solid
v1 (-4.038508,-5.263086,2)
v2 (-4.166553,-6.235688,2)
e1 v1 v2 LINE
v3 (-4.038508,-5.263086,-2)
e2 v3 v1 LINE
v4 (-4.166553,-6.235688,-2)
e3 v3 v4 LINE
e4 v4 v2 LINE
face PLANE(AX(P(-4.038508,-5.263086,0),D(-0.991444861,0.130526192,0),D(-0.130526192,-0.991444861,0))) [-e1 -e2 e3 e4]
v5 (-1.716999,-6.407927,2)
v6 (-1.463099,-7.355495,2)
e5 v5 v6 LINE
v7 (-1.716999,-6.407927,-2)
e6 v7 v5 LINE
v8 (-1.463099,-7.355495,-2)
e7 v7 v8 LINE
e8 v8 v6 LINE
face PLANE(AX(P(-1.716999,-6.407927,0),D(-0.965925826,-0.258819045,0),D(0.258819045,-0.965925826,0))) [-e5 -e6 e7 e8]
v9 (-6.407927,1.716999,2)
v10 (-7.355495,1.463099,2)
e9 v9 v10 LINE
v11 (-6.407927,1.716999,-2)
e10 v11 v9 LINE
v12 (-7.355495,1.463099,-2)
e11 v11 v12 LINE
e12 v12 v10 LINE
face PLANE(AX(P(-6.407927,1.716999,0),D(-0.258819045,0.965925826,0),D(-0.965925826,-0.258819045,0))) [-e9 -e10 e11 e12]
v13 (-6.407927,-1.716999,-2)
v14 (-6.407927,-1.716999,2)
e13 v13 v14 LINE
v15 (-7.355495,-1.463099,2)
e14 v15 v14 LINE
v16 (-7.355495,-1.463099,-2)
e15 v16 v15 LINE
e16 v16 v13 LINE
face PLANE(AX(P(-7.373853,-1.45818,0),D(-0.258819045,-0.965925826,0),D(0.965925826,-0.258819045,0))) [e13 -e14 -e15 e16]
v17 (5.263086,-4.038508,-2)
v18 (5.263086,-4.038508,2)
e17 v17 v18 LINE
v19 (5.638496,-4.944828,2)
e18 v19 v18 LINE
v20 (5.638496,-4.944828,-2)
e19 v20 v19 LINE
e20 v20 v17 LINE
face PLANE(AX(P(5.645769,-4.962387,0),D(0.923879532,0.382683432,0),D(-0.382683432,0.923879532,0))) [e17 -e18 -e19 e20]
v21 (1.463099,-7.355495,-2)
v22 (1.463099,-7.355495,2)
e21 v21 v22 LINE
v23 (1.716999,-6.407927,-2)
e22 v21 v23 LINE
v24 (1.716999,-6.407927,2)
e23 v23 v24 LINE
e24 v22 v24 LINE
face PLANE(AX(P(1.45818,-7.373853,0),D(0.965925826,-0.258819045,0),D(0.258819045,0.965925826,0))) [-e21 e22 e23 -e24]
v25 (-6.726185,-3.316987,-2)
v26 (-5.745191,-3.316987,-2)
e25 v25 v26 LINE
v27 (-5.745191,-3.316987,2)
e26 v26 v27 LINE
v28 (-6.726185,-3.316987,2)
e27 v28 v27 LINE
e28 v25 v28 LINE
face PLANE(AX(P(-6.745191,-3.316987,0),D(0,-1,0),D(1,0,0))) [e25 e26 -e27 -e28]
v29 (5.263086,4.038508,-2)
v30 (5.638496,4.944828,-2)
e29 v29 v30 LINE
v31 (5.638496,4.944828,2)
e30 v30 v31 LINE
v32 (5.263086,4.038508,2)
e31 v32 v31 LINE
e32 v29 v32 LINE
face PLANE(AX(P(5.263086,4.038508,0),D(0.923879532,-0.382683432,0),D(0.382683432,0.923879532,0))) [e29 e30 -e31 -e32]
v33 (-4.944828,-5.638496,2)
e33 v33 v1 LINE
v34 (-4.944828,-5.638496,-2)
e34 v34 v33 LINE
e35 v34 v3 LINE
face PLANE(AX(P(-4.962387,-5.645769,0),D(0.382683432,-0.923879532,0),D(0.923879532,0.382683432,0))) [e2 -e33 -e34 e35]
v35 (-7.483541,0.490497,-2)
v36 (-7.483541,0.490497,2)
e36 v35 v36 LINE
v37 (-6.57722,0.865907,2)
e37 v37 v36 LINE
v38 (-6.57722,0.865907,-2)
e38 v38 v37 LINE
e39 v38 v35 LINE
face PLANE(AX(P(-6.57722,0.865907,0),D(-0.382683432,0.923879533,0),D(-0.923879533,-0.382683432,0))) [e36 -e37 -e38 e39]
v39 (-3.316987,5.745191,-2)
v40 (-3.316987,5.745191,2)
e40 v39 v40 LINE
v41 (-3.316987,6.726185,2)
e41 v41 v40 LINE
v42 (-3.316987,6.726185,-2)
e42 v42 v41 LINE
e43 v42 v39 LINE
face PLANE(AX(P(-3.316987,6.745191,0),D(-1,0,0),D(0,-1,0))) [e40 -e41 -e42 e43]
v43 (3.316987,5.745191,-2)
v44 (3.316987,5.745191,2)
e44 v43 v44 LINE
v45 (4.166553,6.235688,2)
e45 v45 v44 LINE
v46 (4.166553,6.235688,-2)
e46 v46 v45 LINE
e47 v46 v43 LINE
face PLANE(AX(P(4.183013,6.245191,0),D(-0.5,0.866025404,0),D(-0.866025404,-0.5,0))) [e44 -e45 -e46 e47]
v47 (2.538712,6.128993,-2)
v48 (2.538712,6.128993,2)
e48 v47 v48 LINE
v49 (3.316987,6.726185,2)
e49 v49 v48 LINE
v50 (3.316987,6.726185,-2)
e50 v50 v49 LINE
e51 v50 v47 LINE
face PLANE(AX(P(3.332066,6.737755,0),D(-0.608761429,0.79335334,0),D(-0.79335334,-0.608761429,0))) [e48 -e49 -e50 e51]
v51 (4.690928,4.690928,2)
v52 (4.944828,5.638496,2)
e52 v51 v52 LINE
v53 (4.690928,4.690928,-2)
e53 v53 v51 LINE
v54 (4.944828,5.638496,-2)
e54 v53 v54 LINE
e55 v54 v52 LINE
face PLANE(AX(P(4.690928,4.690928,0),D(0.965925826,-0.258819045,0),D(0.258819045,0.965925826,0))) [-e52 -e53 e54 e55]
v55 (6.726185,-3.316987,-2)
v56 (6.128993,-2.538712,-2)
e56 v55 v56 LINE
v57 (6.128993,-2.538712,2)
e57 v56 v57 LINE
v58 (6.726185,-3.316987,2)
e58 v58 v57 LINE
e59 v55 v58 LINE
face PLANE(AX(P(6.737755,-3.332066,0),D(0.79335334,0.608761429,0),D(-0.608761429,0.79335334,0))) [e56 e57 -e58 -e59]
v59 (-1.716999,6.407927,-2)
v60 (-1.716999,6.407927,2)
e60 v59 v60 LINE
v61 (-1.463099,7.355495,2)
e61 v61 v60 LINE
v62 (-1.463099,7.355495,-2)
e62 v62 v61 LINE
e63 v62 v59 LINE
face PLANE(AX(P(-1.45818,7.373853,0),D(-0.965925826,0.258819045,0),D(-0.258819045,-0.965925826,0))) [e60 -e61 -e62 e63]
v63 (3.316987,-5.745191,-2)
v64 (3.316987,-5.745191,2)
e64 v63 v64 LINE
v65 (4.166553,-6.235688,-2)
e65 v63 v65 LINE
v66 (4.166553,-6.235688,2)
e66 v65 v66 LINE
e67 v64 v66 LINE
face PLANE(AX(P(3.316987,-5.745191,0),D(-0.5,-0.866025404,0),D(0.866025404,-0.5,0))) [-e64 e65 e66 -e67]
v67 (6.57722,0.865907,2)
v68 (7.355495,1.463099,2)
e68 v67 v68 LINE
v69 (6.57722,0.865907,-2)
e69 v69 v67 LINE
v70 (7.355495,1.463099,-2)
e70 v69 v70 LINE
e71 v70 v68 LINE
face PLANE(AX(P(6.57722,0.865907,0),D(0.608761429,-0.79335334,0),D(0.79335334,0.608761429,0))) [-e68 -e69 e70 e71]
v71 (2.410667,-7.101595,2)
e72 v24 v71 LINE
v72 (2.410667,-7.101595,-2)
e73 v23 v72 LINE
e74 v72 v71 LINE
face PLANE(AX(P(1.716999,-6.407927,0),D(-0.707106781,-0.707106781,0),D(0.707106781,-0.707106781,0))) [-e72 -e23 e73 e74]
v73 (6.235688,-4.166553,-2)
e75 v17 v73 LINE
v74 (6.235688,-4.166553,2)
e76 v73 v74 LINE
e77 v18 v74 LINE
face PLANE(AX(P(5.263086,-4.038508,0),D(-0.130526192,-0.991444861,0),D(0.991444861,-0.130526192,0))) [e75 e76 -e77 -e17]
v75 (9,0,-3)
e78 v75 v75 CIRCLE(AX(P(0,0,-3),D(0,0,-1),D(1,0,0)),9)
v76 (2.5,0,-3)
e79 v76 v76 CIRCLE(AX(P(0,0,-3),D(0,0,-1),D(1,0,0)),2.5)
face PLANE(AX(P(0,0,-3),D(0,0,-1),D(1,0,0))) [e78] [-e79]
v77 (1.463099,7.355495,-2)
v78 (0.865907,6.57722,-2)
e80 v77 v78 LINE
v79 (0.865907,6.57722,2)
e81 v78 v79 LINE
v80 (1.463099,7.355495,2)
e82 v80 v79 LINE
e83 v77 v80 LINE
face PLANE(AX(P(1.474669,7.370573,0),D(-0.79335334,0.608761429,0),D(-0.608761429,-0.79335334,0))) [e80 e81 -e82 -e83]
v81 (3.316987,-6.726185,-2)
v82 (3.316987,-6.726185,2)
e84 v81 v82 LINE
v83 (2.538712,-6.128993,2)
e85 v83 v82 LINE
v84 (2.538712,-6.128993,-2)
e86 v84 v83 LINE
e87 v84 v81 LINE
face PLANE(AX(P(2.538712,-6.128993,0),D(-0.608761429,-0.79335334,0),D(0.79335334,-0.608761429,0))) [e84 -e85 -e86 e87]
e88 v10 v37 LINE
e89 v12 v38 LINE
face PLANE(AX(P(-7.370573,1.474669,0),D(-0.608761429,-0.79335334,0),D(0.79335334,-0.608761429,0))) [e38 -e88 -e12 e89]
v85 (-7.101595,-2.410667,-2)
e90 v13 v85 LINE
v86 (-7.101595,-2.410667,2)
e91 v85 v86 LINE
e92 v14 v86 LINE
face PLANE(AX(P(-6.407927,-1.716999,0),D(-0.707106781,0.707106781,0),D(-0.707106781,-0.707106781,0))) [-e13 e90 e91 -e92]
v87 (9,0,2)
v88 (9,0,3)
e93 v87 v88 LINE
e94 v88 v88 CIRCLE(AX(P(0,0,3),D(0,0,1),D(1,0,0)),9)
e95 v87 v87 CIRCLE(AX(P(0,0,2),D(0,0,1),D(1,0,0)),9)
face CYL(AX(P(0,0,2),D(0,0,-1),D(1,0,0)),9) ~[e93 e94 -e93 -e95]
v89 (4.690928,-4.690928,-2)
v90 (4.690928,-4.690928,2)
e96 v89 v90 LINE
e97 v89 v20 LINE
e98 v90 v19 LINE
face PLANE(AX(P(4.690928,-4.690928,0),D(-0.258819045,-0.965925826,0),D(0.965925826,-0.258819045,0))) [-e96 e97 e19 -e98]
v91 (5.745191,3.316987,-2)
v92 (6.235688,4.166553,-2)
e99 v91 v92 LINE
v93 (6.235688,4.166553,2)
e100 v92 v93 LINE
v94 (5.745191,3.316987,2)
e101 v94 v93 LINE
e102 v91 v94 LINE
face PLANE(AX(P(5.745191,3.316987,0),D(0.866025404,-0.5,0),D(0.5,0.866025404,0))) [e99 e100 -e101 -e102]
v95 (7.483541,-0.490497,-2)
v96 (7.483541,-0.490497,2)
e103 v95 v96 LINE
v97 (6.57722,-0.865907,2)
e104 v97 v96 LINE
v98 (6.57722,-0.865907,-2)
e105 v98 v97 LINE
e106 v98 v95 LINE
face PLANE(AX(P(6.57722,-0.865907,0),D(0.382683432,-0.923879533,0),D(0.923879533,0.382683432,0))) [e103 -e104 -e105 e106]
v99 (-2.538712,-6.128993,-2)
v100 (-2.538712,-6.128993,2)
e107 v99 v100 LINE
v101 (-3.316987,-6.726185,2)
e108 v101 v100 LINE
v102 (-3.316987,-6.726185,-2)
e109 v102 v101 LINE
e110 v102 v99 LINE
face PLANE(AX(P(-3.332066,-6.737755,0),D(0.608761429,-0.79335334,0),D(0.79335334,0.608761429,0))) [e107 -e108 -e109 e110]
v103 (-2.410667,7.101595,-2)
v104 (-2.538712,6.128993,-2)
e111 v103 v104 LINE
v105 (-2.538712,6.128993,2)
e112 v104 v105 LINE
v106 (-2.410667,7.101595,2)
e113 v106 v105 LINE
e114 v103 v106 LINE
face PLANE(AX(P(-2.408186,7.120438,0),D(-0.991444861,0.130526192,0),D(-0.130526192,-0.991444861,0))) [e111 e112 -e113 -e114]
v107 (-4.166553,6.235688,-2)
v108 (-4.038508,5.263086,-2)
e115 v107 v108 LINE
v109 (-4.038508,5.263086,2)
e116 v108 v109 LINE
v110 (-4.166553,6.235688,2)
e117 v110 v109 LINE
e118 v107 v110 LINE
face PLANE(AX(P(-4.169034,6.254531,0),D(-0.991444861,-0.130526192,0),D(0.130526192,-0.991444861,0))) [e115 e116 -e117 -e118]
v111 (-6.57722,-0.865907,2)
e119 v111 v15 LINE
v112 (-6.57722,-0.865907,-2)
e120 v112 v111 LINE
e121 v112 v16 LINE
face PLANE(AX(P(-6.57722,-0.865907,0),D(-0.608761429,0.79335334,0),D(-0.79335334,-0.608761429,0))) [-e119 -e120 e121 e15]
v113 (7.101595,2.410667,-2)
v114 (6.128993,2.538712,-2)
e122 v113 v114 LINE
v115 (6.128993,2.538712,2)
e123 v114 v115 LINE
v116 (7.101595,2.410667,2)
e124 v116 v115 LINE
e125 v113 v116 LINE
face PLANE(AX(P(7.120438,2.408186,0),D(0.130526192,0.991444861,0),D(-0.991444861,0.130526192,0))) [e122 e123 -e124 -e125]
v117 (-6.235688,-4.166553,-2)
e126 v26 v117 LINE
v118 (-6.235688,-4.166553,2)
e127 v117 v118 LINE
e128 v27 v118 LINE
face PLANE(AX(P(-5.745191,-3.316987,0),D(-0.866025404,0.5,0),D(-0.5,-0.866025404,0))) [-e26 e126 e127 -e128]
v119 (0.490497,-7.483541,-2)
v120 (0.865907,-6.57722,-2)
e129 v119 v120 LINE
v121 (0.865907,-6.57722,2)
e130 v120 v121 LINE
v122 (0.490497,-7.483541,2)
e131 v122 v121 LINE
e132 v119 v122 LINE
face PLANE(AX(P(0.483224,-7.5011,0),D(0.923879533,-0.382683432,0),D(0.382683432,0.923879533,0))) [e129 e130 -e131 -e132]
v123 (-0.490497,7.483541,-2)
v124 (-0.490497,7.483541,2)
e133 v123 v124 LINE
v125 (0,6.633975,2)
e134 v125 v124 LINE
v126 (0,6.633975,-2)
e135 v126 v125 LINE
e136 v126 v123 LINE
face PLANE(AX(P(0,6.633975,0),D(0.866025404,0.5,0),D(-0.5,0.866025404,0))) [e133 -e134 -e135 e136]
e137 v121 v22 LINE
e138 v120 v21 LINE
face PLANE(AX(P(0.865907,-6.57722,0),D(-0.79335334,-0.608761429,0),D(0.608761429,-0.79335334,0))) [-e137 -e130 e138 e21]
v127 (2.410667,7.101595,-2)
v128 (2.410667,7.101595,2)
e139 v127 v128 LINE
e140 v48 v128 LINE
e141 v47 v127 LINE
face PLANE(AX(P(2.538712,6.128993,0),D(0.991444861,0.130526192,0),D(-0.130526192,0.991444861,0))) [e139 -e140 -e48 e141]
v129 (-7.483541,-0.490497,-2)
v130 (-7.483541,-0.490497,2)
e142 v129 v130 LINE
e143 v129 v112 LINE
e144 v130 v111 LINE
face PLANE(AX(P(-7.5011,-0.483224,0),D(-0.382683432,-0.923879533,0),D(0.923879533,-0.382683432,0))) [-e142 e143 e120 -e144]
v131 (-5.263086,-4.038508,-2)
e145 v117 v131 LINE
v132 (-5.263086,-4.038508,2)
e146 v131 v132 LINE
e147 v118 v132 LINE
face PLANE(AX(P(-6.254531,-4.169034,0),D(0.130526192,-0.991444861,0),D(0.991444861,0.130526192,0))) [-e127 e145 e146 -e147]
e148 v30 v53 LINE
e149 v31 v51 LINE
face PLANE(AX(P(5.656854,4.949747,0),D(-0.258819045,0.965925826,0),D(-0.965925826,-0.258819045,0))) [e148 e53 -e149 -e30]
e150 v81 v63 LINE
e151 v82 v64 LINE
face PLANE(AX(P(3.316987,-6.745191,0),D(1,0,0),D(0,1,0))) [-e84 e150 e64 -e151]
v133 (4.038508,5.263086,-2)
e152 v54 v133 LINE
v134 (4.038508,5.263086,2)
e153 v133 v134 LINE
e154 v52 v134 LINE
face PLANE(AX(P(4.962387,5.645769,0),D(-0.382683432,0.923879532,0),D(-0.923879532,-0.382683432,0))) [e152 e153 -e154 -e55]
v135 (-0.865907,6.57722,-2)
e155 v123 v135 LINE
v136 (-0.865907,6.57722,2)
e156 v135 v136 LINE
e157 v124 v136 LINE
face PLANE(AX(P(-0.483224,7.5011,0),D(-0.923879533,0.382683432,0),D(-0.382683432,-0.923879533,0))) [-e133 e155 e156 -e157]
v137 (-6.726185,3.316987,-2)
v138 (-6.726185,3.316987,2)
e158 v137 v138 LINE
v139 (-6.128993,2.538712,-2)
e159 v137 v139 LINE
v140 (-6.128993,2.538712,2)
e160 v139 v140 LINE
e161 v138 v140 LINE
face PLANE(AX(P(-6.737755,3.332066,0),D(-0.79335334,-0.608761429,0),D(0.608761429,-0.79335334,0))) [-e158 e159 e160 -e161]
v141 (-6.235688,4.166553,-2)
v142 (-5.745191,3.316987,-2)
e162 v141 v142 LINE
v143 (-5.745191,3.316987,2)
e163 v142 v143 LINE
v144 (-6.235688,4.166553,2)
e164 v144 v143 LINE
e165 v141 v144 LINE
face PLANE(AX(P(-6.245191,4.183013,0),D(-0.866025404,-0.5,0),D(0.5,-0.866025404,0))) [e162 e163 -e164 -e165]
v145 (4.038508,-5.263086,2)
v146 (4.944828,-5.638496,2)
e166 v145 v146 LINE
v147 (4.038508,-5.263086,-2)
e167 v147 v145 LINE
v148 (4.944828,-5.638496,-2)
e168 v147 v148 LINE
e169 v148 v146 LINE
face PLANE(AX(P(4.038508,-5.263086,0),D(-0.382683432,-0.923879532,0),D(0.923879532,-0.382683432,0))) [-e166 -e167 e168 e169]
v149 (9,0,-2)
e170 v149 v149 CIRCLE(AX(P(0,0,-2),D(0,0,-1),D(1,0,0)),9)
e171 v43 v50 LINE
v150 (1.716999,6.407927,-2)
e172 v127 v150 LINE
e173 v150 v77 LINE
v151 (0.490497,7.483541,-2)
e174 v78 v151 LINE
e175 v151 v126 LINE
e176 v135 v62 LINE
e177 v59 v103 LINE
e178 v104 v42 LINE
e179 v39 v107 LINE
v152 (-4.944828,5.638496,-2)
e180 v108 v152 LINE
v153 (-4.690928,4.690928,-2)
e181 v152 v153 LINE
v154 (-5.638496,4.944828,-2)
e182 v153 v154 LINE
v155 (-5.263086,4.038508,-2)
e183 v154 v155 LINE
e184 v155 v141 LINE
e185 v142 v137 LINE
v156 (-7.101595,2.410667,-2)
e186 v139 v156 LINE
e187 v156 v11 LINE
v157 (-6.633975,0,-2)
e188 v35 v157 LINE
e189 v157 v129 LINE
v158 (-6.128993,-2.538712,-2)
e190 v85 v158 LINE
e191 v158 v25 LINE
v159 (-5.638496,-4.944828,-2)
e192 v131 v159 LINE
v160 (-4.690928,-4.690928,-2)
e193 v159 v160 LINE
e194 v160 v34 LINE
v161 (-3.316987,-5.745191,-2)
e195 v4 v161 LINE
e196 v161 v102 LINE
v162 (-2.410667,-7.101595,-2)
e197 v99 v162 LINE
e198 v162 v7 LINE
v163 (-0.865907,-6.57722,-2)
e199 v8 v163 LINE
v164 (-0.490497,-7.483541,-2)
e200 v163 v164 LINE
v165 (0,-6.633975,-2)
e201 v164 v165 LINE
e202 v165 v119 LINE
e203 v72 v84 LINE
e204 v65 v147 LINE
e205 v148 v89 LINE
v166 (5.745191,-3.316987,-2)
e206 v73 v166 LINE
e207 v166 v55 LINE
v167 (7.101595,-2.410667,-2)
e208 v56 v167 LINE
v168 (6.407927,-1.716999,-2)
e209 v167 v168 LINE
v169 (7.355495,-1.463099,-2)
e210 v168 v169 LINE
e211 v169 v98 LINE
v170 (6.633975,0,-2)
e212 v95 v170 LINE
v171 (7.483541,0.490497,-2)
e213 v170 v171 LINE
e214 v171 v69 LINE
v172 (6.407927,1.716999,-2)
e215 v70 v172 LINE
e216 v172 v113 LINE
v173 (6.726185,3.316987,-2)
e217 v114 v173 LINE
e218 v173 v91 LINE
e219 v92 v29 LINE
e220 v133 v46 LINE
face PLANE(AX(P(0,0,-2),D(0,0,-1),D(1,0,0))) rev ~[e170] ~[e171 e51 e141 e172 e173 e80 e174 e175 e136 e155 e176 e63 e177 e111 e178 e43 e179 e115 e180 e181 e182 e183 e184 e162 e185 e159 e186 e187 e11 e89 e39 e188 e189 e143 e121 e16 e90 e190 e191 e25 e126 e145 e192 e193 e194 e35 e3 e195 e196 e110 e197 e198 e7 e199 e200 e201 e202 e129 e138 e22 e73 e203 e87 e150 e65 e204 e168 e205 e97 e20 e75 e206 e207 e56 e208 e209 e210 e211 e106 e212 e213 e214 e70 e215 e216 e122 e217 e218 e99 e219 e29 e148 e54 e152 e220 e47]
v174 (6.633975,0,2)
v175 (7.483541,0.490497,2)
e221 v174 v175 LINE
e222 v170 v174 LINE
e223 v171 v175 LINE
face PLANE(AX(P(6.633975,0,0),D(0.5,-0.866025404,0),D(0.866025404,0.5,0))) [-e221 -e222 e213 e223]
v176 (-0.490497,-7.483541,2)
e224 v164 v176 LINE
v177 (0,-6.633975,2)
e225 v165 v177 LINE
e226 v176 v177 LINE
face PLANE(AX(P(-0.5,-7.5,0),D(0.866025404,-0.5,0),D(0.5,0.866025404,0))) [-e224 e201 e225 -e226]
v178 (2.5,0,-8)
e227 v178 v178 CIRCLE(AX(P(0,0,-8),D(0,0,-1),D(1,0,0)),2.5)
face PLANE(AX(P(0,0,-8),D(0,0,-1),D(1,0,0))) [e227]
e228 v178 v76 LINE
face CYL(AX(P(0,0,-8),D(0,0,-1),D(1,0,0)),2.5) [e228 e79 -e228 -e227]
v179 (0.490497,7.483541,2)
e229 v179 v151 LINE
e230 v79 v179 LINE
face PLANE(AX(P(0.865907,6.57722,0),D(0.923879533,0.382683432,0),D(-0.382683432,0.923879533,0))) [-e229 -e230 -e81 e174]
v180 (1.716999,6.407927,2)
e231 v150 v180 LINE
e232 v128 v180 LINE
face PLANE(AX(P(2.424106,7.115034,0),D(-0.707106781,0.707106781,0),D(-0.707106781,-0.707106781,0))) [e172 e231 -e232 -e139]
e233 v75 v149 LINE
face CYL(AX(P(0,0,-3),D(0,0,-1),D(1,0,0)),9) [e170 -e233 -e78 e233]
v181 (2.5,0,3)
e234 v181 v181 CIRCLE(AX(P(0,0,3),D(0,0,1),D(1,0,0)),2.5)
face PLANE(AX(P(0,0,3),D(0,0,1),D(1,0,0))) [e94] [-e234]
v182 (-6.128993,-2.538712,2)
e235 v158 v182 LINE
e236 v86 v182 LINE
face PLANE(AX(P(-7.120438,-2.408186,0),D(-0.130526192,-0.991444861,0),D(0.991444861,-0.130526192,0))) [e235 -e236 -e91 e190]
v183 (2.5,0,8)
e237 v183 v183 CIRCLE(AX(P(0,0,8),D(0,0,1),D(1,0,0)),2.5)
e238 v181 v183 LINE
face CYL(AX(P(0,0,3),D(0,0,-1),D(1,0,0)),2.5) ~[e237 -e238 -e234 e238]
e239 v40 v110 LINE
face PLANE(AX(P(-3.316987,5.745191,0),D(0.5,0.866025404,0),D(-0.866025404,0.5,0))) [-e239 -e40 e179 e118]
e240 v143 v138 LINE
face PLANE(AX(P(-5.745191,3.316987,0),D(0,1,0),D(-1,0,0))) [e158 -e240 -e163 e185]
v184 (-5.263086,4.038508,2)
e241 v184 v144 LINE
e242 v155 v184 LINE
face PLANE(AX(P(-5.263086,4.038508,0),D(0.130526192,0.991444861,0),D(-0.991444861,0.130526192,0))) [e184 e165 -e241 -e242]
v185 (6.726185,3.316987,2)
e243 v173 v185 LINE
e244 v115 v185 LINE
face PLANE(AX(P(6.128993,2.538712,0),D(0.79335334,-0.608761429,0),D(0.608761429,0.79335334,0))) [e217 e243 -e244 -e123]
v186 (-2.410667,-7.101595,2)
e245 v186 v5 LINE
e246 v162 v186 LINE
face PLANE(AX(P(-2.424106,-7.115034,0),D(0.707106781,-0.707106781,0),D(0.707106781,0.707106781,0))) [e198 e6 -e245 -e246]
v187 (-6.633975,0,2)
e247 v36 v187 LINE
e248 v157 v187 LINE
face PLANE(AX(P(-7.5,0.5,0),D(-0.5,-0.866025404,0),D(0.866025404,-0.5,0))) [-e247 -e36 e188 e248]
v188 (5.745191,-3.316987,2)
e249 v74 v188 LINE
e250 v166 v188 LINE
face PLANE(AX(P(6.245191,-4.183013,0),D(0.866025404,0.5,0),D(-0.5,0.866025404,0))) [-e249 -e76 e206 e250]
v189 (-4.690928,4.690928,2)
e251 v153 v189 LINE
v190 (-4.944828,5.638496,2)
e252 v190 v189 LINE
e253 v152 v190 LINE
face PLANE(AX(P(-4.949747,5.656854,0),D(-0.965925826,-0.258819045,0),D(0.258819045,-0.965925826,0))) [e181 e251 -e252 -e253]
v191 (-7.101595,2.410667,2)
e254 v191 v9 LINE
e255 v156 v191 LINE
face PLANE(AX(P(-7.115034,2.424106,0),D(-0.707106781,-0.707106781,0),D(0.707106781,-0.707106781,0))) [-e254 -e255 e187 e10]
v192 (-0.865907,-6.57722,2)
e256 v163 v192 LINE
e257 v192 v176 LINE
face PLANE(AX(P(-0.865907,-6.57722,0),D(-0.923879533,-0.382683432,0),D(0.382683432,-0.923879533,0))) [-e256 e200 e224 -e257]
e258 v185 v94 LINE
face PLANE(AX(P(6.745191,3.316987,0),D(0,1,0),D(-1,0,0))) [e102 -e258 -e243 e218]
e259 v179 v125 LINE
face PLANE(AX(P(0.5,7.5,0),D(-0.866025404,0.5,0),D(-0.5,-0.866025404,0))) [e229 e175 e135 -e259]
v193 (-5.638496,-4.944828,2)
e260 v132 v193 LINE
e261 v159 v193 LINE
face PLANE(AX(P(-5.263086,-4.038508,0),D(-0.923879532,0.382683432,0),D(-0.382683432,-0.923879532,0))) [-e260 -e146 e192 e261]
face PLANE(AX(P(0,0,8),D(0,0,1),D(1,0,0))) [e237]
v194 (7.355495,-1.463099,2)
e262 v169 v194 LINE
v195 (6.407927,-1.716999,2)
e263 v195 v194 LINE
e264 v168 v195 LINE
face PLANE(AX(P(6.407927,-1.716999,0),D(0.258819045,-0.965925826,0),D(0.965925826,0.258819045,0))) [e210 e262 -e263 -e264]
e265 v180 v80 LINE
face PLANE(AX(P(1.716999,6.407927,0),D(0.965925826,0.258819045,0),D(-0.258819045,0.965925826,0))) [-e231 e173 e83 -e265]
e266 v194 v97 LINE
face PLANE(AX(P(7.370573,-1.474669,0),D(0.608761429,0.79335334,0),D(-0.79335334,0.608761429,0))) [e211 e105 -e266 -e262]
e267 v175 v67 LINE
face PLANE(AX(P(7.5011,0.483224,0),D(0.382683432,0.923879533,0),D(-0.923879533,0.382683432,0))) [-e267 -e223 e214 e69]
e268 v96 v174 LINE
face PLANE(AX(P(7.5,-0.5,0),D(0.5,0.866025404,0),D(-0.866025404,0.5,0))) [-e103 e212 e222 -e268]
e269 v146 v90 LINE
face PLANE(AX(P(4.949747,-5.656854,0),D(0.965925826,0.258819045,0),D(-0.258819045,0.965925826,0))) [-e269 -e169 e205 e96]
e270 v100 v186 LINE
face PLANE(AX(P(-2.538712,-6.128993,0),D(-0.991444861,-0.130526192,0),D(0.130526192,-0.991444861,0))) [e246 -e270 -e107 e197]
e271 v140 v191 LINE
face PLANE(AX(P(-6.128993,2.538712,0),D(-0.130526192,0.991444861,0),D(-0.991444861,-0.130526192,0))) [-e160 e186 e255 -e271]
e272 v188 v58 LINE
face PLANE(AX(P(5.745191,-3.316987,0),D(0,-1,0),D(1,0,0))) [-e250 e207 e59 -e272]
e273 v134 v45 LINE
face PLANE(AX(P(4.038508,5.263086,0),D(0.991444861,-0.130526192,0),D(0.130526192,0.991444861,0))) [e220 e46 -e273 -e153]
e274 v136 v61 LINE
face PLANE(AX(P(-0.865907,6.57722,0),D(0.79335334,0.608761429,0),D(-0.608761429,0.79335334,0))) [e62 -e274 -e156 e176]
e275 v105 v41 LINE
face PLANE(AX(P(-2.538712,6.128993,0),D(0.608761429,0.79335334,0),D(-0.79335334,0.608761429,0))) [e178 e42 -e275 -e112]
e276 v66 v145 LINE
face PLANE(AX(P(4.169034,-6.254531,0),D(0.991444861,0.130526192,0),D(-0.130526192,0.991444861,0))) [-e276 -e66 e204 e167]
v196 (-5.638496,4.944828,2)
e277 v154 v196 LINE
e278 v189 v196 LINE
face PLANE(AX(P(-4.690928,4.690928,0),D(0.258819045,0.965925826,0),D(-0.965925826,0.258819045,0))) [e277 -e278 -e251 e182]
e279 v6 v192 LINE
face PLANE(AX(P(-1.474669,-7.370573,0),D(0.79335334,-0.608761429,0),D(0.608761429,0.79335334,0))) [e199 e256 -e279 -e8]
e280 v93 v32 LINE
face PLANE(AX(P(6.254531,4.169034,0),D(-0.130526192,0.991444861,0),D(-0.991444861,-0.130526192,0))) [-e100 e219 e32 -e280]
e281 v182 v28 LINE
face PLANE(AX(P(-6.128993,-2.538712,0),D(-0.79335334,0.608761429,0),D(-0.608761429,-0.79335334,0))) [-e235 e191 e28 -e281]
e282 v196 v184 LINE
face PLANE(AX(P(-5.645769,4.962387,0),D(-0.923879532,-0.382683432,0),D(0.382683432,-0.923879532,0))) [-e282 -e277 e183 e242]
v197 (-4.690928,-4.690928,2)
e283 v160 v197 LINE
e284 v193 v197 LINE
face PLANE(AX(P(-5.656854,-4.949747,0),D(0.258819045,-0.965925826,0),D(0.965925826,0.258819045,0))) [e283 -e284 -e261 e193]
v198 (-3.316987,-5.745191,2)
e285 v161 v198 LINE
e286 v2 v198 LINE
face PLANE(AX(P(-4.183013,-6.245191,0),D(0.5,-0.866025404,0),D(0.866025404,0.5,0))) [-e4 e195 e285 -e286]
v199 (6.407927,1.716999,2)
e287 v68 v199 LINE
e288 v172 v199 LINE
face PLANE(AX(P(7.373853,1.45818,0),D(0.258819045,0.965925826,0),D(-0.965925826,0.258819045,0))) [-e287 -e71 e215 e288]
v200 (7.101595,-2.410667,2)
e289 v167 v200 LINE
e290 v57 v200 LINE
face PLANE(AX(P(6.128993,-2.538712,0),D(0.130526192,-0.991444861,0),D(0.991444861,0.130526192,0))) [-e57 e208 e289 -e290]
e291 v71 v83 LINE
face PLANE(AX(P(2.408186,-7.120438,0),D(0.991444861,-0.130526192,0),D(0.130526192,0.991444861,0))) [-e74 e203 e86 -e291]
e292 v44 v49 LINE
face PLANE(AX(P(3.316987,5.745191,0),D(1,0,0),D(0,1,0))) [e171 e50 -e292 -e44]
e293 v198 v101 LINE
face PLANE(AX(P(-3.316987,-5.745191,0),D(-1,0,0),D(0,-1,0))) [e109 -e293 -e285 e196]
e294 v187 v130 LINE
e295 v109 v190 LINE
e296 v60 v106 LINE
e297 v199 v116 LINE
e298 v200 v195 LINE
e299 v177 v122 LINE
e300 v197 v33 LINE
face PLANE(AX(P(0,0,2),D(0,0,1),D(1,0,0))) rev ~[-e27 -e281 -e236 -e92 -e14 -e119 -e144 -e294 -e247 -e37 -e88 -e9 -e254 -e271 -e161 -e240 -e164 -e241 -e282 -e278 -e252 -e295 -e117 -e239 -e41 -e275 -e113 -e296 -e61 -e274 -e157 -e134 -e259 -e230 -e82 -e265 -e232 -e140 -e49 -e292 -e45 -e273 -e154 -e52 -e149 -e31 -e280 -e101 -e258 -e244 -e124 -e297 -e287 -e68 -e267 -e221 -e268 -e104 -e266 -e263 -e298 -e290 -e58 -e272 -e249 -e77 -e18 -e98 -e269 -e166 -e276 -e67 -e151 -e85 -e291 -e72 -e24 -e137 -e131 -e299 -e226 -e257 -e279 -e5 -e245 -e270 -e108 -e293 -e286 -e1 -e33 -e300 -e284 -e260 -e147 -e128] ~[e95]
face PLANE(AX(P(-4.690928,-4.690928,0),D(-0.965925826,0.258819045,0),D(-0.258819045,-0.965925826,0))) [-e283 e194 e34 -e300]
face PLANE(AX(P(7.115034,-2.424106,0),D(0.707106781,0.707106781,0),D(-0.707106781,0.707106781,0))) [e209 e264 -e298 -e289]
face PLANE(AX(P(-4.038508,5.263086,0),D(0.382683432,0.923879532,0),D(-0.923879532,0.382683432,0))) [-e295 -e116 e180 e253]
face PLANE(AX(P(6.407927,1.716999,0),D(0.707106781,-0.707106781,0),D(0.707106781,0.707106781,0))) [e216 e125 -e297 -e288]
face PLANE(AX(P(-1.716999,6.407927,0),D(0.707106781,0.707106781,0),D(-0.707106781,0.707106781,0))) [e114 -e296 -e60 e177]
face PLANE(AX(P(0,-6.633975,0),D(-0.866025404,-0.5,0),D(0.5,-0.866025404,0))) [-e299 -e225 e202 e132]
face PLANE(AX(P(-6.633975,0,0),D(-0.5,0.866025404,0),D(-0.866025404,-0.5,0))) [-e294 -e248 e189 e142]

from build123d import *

# Parameters (mm, degrees)
SALIENTE_EXTRUIR1_DEPTH      = 2
SALIENTE_EXTRUIR1_DEPTH_BACK = 2
CROQUIS1_R                   = 7.5
CORTAR_EXTRUIR1_DEPTH        = 2.5
MATRIZC1_COUNT               = 48
CROQUIS3_R                   = 9
SALIENTE_EXTRUIR2_DEPTH      = 1
SALIENTE_EXTRUIR3_START      = 1
CROQUIS4_R                   = 9
SALIENTE_EXTRUIR3_DEPTH      = 1
CROQUIS5_R                   = 2.5
SALIENTE_EXTRUIR4_DEPTH      = 5
SALIENTE_EXTRUIR5_START      = 5
CROQUIS6_R                   = 2.5
SALIENTE_EXTRUIR5_DEPTH      = 5


with BuildPart() as part:
    # Croquis1 → Saliente-Extruir1 (new, two sides: drawn at the far end of the back side and taken through both)
    with BuildSketch(Plane.XY.offset(-SALIENTE_EXTRUIR1_DEPTH_BACK)):
        Circle(CROQUIS1_R)
    extrude(amount=SALIENTE_EXTRUIR1_DEPTH + SALIENTE_EXTRUIR1_DEPTH_BACK)

    # Croquis2 → Cortar-Extruir1 (cut, symmetric)
    with BuildSketch(Plane.XY):
        Polygon((-0.5, 7.5), (0.5, 7.5), (0, 6.633974596), align=None)
    cortar_extruir1 = extrude(amount=CORTAR_EXTRUIR1_DEPTH, both=True, mode=Mode.SUBTRACT)

    # MatrizC1: Cortar-Extruir1 ×48 about axis
    matrizc1_axis = Axis((0, 0, -2), (0, 0, 1))
    for i in range(1, MATRIZC1_COUNT):
        add(cortar_extruir1.rotate(matrizc1_axis, i * 360 / MATRIZC1_COUNT), mode=Mode.SUBTRACT)

    # Croquis3 → Saliente-Extruir2 (add)
    with BuildSketch(Plane.XY.offset(2)):
        Circle(CROQUIS3_R)
    extrude(amount=SALIENTE_EXTRUIR2_DEPTH)

    # Croquis4 → Saliente-Extruir3 (add)
    with BuildSketch(Plane(origin=(0, 0, -2), x_dir=(-1, 0, 0), z_dir=(0, 0, -1)).offset(SALIENTE_EXTRUIR3_START)):
        Circle(CROQUIS4_R)
    extrude(amount=-SALIENTE_EXTRUIR3_DEPTH)

    # Croquis5 → Saliente-Extruir4 (add)
    with BuildSketch(Plane.XY.offset(3)):
        Circle(CROQUIS5_R)
    extrude(amount=SALIENTE_EXTRUIR4_DEPTH)

    # Croquis6 → Saliente-Extruir5 (add)
    with BuildSketch(Plane(origin=(0, 0, -3), x_dir=(-1, 0, 0), z_dir=(0, 0, -1)).offset(SALIENTE_EXTRUIR5_START)):
        Circle(CROQUIS6_R)
    extrude(amount=-SALIENTE_EXTRUIR5_DEPTH)


solid = part.part
